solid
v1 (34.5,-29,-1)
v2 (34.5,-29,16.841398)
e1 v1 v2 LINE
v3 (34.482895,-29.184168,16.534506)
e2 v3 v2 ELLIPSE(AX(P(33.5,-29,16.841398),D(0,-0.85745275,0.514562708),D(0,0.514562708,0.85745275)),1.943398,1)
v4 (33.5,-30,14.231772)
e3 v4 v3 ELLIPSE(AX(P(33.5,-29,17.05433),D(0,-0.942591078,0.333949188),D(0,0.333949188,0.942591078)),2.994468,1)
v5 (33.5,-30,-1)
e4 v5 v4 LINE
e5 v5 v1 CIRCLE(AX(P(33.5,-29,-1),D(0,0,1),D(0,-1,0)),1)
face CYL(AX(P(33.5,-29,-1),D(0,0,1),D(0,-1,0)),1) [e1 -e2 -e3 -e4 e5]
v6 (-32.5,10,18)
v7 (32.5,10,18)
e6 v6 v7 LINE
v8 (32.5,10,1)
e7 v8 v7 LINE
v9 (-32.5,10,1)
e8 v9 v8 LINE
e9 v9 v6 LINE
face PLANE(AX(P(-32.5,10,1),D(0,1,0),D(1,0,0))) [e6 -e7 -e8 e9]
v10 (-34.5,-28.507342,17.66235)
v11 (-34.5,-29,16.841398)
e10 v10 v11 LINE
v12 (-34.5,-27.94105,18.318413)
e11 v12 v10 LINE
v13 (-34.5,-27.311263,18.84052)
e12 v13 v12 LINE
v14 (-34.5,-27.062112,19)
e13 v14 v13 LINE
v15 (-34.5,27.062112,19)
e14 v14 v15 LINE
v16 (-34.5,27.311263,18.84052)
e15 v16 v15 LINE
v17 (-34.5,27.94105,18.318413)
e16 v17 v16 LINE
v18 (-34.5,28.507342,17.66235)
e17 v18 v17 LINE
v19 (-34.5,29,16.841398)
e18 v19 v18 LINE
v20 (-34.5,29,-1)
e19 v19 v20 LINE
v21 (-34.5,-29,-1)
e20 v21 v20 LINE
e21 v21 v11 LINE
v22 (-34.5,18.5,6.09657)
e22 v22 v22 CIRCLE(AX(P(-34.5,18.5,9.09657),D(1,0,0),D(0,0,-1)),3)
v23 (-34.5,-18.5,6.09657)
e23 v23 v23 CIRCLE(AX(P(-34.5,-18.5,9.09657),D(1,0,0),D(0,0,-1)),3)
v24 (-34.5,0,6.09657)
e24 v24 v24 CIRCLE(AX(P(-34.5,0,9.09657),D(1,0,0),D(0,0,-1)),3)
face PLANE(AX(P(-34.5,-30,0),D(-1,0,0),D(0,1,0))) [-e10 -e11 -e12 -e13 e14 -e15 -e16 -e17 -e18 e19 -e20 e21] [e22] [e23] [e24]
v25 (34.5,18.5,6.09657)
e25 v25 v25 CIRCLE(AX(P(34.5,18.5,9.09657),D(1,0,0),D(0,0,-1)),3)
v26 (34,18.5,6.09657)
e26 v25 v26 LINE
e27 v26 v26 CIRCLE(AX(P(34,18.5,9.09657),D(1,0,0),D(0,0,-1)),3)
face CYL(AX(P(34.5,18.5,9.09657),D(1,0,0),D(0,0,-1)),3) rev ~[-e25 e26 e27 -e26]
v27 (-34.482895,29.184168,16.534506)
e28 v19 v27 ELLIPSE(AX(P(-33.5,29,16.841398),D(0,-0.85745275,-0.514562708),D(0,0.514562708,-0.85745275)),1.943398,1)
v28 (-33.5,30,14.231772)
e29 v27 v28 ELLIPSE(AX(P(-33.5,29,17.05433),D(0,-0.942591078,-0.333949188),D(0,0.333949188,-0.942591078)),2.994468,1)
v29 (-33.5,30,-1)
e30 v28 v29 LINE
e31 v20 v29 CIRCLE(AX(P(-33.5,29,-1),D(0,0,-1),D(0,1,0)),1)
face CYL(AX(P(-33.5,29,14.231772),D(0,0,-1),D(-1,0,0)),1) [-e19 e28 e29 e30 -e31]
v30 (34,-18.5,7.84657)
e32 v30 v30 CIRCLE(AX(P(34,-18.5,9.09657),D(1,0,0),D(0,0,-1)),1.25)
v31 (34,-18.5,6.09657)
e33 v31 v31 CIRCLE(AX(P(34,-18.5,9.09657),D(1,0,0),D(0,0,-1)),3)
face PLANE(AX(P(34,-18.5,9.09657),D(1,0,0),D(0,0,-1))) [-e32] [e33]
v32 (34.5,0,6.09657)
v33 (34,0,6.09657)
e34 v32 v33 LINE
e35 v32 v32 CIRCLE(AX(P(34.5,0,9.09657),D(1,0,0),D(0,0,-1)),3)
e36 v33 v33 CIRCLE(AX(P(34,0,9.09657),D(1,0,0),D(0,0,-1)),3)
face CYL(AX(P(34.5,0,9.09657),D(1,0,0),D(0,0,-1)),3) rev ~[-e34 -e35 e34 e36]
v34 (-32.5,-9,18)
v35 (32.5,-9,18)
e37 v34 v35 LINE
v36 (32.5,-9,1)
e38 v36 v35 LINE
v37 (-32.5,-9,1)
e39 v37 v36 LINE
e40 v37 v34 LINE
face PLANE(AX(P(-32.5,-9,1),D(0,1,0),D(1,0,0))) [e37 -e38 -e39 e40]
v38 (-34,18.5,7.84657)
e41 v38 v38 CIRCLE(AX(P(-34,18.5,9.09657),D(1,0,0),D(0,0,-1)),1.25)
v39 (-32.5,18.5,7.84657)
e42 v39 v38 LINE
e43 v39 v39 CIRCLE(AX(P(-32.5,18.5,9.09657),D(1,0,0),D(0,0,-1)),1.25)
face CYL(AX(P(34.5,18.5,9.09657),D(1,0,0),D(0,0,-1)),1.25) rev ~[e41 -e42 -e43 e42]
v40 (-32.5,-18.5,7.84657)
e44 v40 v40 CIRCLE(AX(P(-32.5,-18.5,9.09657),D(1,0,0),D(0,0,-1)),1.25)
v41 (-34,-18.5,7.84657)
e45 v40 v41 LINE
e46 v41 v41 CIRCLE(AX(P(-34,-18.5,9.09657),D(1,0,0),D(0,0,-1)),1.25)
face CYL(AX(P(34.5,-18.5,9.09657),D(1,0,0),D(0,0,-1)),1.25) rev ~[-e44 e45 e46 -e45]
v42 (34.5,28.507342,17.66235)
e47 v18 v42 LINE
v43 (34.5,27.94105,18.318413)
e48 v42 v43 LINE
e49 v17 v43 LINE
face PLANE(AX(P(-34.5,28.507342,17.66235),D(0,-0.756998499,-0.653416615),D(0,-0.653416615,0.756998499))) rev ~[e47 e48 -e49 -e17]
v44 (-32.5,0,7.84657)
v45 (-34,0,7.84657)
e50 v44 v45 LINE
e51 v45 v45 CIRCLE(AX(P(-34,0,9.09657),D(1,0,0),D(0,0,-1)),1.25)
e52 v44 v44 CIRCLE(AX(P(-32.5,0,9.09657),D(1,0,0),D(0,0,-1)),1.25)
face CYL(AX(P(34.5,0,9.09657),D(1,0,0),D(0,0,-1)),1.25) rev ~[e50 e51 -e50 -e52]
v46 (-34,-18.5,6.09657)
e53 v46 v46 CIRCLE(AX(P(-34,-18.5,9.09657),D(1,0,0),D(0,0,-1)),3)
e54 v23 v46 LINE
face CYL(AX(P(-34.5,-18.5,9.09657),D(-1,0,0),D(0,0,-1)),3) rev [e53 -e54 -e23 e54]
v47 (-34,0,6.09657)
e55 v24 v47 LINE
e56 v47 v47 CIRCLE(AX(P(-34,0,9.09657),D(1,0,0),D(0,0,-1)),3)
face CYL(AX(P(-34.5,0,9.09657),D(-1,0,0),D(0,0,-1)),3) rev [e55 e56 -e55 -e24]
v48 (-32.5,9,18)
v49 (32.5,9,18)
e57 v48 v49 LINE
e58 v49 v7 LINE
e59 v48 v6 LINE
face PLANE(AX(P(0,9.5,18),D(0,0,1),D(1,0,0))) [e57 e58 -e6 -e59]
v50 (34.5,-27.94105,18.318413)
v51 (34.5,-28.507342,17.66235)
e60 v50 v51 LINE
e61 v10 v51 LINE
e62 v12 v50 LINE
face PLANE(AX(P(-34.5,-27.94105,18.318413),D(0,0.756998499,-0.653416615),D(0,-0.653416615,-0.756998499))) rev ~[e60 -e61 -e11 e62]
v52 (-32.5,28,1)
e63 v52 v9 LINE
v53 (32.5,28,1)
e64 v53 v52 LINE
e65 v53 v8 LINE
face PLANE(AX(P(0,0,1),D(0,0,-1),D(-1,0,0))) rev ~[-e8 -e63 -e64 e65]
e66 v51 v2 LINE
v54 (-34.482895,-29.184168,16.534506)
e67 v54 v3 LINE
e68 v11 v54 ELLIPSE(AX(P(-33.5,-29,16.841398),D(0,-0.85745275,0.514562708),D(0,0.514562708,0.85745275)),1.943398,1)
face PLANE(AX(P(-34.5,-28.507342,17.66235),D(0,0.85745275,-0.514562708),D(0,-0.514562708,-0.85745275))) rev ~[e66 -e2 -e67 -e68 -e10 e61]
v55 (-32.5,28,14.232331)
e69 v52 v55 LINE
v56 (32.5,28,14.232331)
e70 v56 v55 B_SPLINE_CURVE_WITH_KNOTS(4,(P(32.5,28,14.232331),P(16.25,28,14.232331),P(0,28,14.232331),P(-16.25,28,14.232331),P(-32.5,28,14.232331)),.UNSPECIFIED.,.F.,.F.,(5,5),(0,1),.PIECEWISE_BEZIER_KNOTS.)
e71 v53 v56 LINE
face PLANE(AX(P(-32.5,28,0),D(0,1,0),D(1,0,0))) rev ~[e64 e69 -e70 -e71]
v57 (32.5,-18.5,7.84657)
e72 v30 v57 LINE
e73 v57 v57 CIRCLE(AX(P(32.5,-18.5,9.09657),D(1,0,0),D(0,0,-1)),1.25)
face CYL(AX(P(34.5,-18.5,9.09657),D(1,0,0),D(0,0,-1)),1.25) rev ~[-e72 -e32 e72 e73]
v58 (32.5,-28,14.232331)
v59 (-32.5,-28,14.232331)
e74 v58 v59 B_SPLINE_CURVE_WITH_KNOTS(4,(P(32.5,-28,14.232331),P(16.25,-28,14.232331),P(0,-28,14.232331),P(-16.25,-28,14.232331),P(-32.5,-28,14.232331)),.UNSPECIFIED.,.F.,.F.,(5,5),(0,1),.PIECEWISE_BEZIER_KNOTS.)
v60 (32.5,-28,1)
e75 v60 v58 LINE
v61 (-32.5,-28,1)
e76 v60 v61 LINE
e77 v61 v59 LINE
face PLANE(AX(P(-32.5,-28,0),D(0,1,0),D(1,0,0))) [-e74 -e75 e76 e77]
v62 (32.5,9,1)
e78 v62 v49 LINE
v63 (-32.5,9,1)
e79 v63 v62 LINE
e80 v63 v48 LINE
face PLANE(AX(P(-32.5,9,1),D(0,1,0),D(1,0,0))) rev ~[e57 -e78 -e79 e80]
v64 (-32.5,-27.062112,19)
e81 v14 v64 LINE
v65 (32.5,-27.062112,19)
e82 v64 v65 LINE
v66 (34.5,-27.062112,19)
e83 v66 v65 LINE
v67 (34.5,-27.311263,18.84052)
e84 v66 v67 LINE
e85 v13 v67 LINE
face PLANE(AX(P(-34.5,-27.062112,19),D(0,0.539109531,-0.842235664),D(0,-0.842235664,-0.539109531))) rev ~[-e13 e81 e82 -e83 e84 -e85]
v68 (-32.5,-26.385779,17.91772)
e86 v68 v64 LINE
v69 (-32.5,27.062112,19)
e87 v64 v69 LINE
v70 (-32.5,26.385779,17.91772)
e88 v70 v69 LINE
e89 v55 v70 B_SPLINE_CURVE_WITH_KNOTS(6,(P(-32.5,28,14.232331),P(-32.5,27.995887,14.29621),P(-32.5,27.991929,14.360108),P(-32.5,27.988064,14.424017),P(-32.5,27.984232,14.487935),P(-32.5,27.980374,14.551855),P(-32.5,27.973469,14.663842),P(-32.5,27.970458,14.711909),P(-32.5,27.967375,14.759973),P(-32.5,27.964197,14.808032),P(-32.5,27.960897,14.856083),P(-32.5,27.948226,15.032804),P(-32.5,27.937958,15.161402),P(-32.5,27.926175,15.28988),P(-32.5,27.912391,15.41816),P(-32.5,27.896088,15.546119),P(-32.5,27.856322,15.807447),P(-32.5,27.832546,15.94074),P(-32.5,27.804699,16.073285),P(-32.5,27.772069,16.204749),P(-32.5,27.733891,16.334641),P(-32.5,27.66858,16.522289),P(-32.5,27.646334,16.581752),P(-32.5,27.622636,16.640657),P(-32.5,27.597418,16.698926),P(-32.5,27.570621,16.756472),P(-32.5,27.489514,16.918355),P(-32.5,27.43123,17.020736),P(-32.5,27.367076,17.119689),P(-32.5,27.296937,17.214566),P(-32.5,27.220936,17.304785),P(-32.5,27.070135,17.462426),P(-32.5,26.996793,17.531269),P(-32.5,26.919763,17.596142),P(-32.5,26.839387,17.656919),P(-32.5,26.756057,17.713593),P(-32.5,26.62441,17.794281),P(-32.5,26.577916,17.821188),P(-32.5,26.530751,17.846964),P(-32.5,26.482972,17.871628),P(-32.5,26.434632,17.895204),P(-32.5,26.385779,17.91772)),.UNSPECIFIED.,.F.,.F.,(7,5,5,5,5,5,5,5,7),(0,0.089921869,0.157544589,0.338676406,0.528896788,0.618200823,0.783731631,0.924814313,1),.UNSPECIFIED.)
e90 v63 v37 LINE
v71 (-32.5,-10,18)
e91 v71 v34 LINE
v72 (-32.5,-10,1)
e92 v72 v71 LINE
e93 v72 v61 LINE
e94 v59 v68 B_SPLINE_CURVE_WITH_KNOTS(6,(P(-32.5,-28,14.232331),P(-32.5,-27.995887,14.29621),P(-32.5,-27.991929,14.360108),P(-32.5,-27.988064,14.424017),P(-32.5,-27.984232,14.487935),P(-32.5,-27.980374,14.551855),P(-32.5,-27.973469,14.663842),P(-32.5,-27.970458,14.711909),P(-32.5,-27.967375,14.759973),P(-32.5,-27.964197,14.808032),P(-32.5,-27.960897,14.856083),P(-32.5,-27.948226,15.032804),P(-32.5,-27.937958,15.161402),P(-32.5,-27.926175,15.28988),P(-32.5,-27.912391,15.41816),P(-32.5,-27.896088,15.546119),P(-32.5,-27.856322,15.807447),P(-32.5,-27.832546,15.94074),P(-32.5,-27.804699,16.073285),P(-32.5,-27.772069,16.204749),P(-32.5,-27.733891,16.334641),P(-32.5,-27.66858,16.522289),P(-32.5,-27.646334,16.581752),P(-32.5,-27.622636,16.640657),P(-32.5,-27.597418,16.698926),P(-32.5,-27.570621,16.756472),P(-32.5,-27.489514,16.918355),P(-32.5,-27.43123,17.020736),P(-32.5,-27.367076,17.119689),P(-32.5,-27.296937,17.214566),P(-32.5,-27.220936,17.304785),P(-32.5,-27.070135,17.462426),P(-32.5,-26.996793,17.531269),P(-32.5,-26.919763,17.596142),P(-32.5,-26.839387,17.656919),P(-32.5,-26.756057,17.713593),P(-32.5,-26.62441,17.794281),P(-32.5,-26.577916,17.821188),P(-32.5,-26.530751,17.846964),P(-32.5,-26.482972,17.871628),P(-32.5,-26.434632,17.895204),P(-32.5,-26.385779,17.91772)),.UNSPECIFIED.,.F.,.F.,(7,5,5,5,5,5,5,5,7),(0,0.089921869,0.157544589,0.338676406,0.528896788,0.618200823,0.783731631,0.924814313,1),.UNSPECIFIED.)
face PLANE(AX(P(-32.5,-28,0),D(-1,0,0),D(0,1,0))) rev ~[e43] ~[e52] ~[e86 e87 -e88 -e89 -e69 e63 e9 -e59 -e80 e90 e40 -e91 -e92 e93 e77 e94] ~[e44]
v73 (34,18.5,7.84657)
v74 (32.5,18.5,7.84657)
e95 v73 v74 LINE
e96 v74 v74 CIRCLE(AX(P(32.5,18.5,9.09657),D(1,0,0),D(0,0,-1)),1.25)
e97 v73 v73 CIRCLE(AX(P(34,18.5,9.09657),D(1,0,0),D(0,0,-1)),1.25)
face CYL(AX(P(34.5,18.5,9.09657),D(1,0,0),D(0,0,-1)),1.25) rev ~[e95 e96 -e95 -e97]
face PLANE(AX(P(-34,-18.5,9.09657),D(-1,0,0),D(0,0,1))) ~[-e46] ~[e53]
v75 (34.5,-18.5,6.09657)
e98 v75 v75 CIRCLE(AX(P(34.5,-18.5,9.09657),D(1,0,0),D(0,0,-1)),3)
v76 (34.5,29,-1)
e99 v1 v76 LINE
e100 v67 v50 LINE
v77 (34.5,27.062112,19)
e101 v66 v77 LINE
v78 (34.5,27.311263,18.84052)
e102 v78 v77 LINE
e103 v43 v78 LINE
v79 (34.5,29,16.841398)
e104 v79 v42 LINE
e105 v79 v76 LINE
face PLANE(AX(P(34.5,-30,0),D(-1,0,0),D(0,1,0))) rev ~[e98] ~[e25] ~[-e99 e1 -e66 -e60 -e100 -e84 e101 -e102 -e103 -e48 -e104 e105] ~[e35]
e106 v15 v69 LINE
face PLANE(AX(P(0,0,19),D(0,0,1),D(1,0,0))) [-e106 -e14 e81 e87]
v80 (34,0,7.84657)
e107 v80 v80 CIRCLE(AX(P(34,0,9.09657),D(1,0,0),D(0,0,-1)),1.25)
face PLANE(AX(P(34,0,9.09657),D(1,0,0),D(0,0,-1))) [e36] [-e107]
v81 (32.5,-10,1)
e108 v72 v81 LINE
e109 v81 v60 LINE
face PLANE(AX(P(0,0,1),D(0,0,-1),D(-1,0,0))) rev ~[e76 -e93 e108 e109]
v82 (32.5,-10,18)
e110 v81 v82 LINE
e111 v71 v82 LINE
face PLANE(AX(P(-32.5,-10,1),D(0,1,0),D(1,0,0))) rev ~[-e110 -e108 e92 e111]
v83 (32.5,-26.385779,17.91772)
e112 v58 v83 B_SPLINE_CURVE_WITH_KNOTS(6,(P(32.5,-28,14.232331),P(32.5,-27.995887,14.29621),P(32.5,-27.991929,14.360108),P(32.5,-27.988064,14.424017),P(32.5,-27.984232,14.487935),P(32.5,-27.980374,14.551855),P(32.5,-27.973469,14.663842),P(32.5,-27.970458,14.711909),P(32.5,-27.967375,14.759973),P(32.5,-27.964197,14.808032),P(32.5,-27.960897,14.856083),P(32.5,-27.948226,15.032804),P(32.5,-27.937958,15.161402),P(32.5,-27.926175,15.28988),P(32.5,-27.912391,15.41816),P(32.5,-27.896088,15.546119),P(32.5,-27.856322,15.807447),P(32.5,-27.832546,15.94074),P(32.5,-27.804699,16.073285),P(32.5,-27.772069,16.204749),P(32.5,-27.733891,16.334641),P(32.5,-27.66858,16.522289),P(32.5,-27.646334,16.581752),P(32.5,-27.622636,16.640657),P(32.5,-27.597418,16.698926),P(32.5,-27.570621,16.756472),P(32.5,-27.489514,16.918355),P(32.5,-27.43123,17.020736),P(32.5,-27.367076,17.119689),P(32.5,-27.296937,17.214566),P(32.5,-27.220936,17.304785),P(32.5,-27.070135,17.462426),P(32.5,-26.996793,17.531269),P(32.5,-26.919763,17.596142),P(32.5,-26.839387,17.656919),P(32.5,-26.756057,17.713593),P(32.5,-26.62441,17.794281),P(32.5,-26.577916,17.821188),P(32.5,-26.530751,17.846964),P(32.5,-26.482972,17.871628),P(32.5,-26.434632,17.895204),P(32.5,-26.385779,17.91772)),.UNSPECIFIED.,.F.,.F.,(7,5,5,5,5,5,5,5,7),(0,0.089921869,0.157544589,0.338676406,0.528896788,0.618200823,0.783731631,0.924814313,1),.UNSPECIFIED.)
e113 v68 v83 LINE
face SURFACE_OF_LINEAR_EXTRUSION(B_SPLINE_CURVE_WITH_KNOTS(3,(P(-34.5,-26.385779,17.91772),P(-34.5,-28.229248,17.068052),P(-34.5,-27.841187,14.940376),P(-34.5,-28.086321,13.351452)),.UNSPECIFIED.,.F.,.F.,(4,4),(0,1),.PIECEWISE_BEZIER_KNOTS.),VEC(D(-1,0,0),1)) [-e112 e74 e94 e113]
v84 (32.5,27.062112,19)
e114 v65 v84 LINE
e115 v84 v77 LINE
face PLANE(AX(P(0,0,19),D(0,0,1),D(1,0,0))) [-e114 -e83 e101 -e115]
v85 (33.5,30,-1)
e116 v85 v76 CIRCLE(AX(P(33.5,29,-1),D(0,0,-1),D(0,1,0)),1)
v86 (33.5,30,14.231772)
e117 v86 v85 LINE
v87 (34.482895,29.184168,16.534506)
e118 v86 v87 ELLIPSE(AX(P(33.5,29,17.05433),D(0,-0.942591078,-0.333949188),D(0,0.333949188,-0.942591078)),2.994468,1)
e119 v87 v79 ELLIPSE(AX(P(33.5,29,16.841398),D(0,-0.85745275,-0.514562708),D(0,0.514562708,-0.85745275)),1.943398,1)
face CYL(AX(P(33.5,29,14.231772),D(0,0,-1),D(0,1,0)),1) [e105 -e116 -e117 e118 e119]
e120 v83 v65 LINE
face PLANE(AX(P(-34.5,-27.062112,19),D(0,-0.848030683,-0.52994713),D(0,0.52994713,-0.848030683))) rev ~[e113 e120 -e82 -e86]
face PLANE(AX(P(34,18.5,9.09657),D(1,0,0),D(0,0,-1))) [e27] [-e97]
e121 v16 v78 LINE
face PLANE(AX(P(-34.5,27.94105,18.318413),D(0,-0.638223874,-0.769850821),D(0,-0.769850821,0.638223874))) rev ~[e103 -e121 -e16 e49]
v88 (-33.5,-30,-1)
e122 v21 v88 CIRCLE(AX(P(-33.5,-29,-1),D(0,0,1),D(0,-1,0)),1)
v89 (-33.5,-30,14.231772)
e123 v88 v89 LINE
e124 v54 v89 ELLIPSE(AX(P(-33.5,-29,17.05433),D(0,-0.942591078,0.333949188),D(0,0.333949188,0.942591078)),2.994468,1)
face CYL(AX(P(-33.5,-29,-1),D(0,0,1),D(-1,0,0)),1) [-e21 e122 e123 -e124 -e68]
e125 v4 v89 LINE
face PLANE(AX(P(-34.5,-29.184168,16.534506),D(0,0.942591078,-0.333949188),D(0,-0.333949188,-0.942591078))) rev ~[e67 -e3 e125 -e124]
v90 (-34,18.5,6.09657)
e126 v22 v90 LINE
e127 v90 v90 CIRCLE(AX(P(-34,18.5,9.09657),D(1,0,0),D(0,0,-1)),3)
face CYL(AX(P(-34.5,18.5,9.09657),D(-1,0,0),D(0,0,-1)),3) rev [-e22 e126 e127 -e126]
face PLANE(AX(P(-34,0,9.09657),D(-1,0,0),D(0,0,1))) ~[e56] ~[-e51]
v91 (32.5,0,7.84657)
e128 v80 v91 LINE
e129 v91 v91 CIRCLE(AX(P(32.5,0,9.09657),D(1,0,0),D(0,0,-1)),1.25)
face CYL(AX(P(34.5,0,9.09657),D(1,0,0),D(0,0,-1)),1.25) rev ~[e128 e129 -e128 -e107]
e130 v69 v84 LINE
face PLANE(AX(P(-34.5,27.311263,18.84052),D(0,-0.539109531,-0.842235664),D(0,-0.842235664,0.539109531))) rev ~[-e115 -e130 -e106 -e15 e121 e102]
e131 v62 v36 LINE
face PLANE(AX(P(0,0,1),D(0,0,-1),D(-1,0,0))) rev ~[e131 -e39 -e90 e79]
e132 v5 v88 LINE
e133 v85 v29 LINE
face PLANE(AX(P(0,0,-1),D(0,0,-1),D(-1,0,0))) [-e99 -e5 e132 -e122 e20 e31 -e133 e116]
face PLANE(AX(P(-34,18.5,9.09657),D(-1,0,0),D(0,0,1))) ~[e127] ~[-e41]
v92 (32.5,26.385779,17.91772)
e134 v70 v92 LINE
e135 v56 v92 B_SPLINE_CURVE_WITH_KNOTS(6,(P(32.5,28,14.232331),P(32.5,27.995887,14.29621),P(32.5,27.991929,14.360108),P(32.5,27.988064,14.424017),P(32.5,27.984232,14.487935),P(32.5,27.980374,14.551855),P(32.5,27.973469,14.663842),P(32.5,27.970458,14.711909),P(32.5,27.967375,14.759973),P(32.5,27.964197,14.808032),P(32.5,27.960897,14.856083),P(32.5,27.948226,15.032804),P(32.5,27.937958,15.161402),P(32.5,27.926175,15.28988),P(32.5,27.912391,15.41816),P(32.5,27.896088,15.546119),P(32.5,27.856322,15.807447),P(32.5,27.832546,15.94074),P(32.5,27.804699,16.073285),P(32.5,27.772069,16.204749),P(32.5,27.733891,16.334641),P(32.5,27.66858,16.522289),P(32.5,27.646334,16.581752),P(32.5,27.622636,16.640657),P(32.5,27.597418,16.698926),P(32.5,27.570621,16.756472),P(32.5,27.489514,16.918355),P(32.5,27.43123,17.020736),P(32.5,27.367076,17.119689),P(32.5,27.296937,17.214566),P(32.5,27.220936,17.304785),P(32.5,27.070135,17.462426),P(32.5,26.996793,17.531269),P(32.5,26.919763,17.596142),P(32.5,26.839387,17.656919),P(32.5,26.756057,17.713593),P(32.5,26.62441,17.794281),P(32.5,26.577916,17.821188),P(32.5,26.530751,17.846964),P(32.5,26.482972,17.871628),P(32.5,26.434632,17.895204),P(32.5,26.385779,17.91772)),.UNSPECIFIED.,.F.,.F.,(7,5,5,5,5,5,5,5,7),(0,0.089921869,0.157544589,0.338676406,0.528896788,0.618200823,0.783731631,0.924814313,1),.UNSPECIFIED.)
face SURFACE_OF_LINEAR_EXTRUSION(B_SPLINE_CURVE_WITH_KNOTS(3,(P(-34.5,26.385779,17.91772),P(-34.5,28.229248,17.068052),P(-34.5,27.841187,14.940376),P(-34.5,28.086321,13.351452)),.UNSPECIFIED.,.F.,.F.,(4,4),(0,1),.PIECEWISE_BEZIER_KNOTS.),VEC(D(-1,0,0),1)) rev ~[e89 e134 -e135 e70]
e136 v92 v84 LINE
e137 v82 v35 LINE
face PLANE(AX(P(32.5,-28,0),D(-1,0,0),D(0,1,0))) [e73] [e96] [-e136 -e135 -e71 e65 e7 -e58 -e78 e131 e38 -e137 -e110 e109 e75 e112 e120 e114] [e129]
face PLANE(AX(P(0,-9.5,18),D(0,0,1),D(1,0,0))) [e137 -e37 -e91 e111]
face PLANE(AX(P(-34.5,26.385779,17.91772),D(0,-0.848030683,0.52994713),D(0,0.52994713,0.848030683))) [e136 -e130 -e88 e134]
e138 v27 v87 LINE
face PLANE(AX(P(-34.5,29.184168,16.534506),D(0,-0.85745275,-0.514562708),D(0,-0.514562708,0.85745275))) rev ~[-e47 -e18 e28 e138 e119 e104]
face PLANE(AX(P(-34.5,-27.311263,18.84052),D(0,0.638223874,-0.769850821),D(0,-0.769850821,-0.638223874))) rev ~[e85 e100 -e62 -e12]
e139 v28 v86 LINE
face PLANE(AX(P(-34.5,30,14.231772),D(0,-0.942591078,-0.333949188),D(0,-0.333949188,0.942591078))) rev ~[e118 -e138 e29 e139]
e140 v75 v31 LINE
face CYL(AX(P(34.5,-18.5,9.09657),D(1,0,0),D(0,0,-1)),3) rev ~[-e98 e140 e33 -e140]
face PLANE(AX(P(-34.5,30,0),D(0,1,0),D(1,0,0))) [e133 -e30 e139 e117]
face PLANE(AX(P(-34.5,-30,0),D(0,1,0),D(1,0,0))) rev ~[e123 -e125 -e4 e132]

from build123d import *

# Parameters (mm, degrees)
SKETCH2_W           = 69
SKETCH2_H           = 60
SKETCH2_W_2         = 65
SKETCH2_H_2         = 56
BOSS_EXTRUDE1_DEPTH = 19
SKETCH3_W           = 69
SKETCH3_H           = 60
BOSS_EXTRUDE2_DEPTH = 1
BOSS_EXTRUDE4_DEPTH = 67.5
CUT_EXTRUDE1_DEPTH  = 135
SKETCH7_W           = 84.404027411
SKETCH7_H           = 26.874448114
CUT_EXTRUDE2_DEPTH  = 135
SKETCH9_W           = 65
SKETCH9_H           = 1
BOSS_EXTRUDE5_DEPTH = 17
FILLET1_R           = 1
SKETCH10_R          = 3
CUT_EXTRUDE6_DEPTH  = 0.5
CUT_EXTRUDE7_REACH  = 79.602
SKETCH11_R          = 1.25


with BuildPart() as part:
    # Sketch2 → Boss-Extrude1 (new body)
    with BuildSketch(Plane.XY):
        Rectangle(SKETCH2_W, SKETCH2_H)
        Rectangle(SKETCH2_W_2, SKETCH2_H_2, mode=Mode.SUBTRACT)
    extrude(amount=BOSS_EXTRUDE1_DEPTH)

    # Sketch3 → Boss-Extrude2 (add, symmetric)
    with BuildSketch(Plane(origin=(0, 0, 0), x_dir=(-1, 0, 0), z_dir=(0, 0, -1))):
        Rectangle(SKETCH3_W, SKETCH3_H)
    extrude(amount=BOSS_EXTRUDE2_DEPTH, both=True)

    # Sketch4 → Boss-Extrude4 (add, symmetric)
    with BuildSketch(Plane.ZY.offset(34.5)):
        with BuildLine():
            Line((19, -27.062112177), (17.917720438, -26.385779399))
            add(Edge.make_bspline(
                [(17.917720438, -26.385779399), (17.068052287, -28.229247979), (14.940376438, -27.841186756), (13.351451557, -28.086320914)],
                knots=[0, 0, 0, 0, 1, 1, 1, 1], degree=3))
            Line((13.351451557, -28.086320914), (14.231772034, -30))
            add(Edge.make_bspline(
                [(14.231772034, -30), (17.788479479, -29.104156819), (19, -27.062112177)],
                knots=[0, 0, 0, 0.719469437, 0.719469437, 0.719469437], degree=2))
        make_face()
        with BuildLine():
            Line((14.231772034, 30), (13.351451557, 28.086320914))
            add(Edge.make_bspline(
                [(17.917720438, 26.385779399), (17.068052287, 28.229247979), (14.940376438, 27.841186756), (13.351451557, 28.086320914)],
                knots=[0, 0, 0, 0, 1, 1, 1, 1], degree=3))
            Line((17.917720438, 26.385779399), (19, 27.062112177))
            add(Edge.make_bspline(
                [(14.231772034, 30), (17.788479479, 29.104156819), (19, 27.062112177)],
                knots=[0, 0, 0, 0.719469437, 0.719469437, 0.719469437], degree=2))
        make_face()
    extrude(amount=BOSS_EXTRUDE4_DEPTH, both=True)

    # Sketch6 → Cut-Extrude1 (cut)
    with BuildSketch(Plane.ZY.offset(34.5)):
        Polygon((19, -30), (19, -27.062112177), (18.840520093, -27.311263152), (18.318412732, -27.941049653), (17.662350265, -28.50734155), (16.534506271, -29.184167719), (14.231772034, -30), align=None)
        Polygon((19, 30), (14.231772034, 30), (16.534506271, 29.184167719), (17.662350265, 28.50734155), (18.318412732, 27.941049653), (18.840520093, 27.311263152), (19, 27.062112177), align=None)
    extrude(amount=-CUT_EXTRUDE1_DEPTH, mode=Mode.SUBTRACT)

    # Sketch7 → Cut-Extrude2 (cut)
    with BuildSketch(Plane.XZ.offset(30)):
        with Locations((-76.702013706, 12.437224057)):
            Rectangle(SKETCH7_W, SKETCH7_H)
    extrude(amount=-CUT_EXTRUDE2_DEPTH, mode=Mode.SUBTRACT)

    # Sketch9 → Boss-Extrude5 (add)
    with BuildSketch(Plane.XY.offset(1)):
        with Locations((0, 9.5)):
            Rectangle(SKETCH9_W, SKETCH9_H)
        with Locations((0, -9.5)):
            Rectangle(SKETCH9_W, SKETCH9_H)
    extrude(amount=BOSS_EXTRUDE5_DEPTH)

    # Fillet1
    fillet1_edges = [part.edges().sort_by_distance(p)[0] for p in [
        (-34.5, 30, 6.615886017),
        (-34.5, -30, 6.615886017),
        (34.5, 30, 6.615886017),
        (34.5, -30, 6.615886017),
    ]]
    fillet(fillet1_edges, radius=FILLET1_R)

    # Sketch10 → Cut-Extrude6 (cut)
    with BuildSketch(Plane(origin=(34.5, 0, 0), x_dir=(0, 0, -1), z_dir=(1, 0, 0))):
        with Locations((-9.09656972, -18.5)):
            Circle(SKETCH10_R)
        with Locations((-9.09656972, 0)):
            Circle(SKETCH10_R)
        with Locations((-9.09656972, 18.5)):
            Circle(SKETCH10_R)
    cut_extrude6 = extrude(amount=-CUT_EXTRUDE6_DEPTH, mode=Mode.SUBTRACT)

    # Cut-Extrude7: up to this face of the body (flat: up to its plane)
    cut_extrude7_end = Plane(part.part.faces().sort_by_distance((-34.5, 0, 8.972249648))[0])
    # Sketch11 → Cut-Extrude7 (cut, up to the picked face)
    with BuildSketch(Plane(origin=(34.5, 0, 0), x_dir=(0, 0, -1), z_dir=(1, 0, 0)), mode=Mode.PRIVATE) as cut_extrude7_sk1:
        with Locations((-9.09656972, -18.5)):
            Circle(SKETCH11_R)
    cut_extrude7_tool1 = split(extrude(cut_extrude7_sk1.sketch, amount=-CUT_EXTRUDE7_REACH, mode=Mode.PRIVATE), bisect_by=cut_extrude7_end, keep=Keep.BOTH, mode=Mode.PRIVATE)
    # Sketch11 → Cut-Extrude7 (cut, up to the picked face)
    with BuildSketch(Plane(origin=(34.5, 0, 0), x_dir=(0, 0, -1), z_dir=(1, 0, 0)), mode=Mode.PRIVATE) as cut_extrude7_sk2:
        with Locations((-9.09656972, 0)):
            Circle(SKETCH11_R)
    cut_extrude7_tool2 = split(extrude(cut_extrude7_sk2.sketch, amount=-CUT_EXTRUDE7_REACH, mode=Mode.PRIVATE), bisect_by=cut_extrude7_end, keep=Keep.BOTH, mode=Mode.PRIVATE)
    # Sketch11 → Cut-Extrude7 (cut, up to the picked face)
    with BuildSketch(Plane(origin=(34.5, 0, 0), x_dir=(0, 0, -1), z_dir=(1, 0, 0)), mode=Mode.PRIVATE) as cut_extrude7_sk3:
        with Locations((-9.09656972, 18.5)):
            Circle(SKETCH11_R)
    cut_extrude7_tool3 = split(extrude(cut_extrude7_sk3.sketch, amount=-CUT_EXTRUDE7_REACH, mode=Mode.PRIVATE), bisect_by=cut_extrude7_end, keep=Keep.BOTH, mode=Mode.PRIVATE)
    add(cut_extrude7_tool1.solids().sort_by(Axis((34.5, -18.5, 9.09657), (-1, 0, 0)))[0], mode=Mode.SUBTRACT)
    add(cut_extrude7_tool2.solids().sort_by(Axis((34.5, 0, 9.09657), (-1, 0, 0)))[0], mode=Mode.SUBTRACT)
    add(cut_extrude7_tool3.solids().sort_by(Axis((34.5, 18.5, 9.09657), (-1, 0, 0)))[0], mode=Mode.SUBTRACT)

    # Mirror1: Cut-Extrude6 across plane
    add(cut_extrude6.mirror(Plane(origin=(0, 0, 0), x_dir=(0, 0, 1), z_dir=(1, 0, 0))), mode=Mode.SUBTRACT)


solid = part.part
